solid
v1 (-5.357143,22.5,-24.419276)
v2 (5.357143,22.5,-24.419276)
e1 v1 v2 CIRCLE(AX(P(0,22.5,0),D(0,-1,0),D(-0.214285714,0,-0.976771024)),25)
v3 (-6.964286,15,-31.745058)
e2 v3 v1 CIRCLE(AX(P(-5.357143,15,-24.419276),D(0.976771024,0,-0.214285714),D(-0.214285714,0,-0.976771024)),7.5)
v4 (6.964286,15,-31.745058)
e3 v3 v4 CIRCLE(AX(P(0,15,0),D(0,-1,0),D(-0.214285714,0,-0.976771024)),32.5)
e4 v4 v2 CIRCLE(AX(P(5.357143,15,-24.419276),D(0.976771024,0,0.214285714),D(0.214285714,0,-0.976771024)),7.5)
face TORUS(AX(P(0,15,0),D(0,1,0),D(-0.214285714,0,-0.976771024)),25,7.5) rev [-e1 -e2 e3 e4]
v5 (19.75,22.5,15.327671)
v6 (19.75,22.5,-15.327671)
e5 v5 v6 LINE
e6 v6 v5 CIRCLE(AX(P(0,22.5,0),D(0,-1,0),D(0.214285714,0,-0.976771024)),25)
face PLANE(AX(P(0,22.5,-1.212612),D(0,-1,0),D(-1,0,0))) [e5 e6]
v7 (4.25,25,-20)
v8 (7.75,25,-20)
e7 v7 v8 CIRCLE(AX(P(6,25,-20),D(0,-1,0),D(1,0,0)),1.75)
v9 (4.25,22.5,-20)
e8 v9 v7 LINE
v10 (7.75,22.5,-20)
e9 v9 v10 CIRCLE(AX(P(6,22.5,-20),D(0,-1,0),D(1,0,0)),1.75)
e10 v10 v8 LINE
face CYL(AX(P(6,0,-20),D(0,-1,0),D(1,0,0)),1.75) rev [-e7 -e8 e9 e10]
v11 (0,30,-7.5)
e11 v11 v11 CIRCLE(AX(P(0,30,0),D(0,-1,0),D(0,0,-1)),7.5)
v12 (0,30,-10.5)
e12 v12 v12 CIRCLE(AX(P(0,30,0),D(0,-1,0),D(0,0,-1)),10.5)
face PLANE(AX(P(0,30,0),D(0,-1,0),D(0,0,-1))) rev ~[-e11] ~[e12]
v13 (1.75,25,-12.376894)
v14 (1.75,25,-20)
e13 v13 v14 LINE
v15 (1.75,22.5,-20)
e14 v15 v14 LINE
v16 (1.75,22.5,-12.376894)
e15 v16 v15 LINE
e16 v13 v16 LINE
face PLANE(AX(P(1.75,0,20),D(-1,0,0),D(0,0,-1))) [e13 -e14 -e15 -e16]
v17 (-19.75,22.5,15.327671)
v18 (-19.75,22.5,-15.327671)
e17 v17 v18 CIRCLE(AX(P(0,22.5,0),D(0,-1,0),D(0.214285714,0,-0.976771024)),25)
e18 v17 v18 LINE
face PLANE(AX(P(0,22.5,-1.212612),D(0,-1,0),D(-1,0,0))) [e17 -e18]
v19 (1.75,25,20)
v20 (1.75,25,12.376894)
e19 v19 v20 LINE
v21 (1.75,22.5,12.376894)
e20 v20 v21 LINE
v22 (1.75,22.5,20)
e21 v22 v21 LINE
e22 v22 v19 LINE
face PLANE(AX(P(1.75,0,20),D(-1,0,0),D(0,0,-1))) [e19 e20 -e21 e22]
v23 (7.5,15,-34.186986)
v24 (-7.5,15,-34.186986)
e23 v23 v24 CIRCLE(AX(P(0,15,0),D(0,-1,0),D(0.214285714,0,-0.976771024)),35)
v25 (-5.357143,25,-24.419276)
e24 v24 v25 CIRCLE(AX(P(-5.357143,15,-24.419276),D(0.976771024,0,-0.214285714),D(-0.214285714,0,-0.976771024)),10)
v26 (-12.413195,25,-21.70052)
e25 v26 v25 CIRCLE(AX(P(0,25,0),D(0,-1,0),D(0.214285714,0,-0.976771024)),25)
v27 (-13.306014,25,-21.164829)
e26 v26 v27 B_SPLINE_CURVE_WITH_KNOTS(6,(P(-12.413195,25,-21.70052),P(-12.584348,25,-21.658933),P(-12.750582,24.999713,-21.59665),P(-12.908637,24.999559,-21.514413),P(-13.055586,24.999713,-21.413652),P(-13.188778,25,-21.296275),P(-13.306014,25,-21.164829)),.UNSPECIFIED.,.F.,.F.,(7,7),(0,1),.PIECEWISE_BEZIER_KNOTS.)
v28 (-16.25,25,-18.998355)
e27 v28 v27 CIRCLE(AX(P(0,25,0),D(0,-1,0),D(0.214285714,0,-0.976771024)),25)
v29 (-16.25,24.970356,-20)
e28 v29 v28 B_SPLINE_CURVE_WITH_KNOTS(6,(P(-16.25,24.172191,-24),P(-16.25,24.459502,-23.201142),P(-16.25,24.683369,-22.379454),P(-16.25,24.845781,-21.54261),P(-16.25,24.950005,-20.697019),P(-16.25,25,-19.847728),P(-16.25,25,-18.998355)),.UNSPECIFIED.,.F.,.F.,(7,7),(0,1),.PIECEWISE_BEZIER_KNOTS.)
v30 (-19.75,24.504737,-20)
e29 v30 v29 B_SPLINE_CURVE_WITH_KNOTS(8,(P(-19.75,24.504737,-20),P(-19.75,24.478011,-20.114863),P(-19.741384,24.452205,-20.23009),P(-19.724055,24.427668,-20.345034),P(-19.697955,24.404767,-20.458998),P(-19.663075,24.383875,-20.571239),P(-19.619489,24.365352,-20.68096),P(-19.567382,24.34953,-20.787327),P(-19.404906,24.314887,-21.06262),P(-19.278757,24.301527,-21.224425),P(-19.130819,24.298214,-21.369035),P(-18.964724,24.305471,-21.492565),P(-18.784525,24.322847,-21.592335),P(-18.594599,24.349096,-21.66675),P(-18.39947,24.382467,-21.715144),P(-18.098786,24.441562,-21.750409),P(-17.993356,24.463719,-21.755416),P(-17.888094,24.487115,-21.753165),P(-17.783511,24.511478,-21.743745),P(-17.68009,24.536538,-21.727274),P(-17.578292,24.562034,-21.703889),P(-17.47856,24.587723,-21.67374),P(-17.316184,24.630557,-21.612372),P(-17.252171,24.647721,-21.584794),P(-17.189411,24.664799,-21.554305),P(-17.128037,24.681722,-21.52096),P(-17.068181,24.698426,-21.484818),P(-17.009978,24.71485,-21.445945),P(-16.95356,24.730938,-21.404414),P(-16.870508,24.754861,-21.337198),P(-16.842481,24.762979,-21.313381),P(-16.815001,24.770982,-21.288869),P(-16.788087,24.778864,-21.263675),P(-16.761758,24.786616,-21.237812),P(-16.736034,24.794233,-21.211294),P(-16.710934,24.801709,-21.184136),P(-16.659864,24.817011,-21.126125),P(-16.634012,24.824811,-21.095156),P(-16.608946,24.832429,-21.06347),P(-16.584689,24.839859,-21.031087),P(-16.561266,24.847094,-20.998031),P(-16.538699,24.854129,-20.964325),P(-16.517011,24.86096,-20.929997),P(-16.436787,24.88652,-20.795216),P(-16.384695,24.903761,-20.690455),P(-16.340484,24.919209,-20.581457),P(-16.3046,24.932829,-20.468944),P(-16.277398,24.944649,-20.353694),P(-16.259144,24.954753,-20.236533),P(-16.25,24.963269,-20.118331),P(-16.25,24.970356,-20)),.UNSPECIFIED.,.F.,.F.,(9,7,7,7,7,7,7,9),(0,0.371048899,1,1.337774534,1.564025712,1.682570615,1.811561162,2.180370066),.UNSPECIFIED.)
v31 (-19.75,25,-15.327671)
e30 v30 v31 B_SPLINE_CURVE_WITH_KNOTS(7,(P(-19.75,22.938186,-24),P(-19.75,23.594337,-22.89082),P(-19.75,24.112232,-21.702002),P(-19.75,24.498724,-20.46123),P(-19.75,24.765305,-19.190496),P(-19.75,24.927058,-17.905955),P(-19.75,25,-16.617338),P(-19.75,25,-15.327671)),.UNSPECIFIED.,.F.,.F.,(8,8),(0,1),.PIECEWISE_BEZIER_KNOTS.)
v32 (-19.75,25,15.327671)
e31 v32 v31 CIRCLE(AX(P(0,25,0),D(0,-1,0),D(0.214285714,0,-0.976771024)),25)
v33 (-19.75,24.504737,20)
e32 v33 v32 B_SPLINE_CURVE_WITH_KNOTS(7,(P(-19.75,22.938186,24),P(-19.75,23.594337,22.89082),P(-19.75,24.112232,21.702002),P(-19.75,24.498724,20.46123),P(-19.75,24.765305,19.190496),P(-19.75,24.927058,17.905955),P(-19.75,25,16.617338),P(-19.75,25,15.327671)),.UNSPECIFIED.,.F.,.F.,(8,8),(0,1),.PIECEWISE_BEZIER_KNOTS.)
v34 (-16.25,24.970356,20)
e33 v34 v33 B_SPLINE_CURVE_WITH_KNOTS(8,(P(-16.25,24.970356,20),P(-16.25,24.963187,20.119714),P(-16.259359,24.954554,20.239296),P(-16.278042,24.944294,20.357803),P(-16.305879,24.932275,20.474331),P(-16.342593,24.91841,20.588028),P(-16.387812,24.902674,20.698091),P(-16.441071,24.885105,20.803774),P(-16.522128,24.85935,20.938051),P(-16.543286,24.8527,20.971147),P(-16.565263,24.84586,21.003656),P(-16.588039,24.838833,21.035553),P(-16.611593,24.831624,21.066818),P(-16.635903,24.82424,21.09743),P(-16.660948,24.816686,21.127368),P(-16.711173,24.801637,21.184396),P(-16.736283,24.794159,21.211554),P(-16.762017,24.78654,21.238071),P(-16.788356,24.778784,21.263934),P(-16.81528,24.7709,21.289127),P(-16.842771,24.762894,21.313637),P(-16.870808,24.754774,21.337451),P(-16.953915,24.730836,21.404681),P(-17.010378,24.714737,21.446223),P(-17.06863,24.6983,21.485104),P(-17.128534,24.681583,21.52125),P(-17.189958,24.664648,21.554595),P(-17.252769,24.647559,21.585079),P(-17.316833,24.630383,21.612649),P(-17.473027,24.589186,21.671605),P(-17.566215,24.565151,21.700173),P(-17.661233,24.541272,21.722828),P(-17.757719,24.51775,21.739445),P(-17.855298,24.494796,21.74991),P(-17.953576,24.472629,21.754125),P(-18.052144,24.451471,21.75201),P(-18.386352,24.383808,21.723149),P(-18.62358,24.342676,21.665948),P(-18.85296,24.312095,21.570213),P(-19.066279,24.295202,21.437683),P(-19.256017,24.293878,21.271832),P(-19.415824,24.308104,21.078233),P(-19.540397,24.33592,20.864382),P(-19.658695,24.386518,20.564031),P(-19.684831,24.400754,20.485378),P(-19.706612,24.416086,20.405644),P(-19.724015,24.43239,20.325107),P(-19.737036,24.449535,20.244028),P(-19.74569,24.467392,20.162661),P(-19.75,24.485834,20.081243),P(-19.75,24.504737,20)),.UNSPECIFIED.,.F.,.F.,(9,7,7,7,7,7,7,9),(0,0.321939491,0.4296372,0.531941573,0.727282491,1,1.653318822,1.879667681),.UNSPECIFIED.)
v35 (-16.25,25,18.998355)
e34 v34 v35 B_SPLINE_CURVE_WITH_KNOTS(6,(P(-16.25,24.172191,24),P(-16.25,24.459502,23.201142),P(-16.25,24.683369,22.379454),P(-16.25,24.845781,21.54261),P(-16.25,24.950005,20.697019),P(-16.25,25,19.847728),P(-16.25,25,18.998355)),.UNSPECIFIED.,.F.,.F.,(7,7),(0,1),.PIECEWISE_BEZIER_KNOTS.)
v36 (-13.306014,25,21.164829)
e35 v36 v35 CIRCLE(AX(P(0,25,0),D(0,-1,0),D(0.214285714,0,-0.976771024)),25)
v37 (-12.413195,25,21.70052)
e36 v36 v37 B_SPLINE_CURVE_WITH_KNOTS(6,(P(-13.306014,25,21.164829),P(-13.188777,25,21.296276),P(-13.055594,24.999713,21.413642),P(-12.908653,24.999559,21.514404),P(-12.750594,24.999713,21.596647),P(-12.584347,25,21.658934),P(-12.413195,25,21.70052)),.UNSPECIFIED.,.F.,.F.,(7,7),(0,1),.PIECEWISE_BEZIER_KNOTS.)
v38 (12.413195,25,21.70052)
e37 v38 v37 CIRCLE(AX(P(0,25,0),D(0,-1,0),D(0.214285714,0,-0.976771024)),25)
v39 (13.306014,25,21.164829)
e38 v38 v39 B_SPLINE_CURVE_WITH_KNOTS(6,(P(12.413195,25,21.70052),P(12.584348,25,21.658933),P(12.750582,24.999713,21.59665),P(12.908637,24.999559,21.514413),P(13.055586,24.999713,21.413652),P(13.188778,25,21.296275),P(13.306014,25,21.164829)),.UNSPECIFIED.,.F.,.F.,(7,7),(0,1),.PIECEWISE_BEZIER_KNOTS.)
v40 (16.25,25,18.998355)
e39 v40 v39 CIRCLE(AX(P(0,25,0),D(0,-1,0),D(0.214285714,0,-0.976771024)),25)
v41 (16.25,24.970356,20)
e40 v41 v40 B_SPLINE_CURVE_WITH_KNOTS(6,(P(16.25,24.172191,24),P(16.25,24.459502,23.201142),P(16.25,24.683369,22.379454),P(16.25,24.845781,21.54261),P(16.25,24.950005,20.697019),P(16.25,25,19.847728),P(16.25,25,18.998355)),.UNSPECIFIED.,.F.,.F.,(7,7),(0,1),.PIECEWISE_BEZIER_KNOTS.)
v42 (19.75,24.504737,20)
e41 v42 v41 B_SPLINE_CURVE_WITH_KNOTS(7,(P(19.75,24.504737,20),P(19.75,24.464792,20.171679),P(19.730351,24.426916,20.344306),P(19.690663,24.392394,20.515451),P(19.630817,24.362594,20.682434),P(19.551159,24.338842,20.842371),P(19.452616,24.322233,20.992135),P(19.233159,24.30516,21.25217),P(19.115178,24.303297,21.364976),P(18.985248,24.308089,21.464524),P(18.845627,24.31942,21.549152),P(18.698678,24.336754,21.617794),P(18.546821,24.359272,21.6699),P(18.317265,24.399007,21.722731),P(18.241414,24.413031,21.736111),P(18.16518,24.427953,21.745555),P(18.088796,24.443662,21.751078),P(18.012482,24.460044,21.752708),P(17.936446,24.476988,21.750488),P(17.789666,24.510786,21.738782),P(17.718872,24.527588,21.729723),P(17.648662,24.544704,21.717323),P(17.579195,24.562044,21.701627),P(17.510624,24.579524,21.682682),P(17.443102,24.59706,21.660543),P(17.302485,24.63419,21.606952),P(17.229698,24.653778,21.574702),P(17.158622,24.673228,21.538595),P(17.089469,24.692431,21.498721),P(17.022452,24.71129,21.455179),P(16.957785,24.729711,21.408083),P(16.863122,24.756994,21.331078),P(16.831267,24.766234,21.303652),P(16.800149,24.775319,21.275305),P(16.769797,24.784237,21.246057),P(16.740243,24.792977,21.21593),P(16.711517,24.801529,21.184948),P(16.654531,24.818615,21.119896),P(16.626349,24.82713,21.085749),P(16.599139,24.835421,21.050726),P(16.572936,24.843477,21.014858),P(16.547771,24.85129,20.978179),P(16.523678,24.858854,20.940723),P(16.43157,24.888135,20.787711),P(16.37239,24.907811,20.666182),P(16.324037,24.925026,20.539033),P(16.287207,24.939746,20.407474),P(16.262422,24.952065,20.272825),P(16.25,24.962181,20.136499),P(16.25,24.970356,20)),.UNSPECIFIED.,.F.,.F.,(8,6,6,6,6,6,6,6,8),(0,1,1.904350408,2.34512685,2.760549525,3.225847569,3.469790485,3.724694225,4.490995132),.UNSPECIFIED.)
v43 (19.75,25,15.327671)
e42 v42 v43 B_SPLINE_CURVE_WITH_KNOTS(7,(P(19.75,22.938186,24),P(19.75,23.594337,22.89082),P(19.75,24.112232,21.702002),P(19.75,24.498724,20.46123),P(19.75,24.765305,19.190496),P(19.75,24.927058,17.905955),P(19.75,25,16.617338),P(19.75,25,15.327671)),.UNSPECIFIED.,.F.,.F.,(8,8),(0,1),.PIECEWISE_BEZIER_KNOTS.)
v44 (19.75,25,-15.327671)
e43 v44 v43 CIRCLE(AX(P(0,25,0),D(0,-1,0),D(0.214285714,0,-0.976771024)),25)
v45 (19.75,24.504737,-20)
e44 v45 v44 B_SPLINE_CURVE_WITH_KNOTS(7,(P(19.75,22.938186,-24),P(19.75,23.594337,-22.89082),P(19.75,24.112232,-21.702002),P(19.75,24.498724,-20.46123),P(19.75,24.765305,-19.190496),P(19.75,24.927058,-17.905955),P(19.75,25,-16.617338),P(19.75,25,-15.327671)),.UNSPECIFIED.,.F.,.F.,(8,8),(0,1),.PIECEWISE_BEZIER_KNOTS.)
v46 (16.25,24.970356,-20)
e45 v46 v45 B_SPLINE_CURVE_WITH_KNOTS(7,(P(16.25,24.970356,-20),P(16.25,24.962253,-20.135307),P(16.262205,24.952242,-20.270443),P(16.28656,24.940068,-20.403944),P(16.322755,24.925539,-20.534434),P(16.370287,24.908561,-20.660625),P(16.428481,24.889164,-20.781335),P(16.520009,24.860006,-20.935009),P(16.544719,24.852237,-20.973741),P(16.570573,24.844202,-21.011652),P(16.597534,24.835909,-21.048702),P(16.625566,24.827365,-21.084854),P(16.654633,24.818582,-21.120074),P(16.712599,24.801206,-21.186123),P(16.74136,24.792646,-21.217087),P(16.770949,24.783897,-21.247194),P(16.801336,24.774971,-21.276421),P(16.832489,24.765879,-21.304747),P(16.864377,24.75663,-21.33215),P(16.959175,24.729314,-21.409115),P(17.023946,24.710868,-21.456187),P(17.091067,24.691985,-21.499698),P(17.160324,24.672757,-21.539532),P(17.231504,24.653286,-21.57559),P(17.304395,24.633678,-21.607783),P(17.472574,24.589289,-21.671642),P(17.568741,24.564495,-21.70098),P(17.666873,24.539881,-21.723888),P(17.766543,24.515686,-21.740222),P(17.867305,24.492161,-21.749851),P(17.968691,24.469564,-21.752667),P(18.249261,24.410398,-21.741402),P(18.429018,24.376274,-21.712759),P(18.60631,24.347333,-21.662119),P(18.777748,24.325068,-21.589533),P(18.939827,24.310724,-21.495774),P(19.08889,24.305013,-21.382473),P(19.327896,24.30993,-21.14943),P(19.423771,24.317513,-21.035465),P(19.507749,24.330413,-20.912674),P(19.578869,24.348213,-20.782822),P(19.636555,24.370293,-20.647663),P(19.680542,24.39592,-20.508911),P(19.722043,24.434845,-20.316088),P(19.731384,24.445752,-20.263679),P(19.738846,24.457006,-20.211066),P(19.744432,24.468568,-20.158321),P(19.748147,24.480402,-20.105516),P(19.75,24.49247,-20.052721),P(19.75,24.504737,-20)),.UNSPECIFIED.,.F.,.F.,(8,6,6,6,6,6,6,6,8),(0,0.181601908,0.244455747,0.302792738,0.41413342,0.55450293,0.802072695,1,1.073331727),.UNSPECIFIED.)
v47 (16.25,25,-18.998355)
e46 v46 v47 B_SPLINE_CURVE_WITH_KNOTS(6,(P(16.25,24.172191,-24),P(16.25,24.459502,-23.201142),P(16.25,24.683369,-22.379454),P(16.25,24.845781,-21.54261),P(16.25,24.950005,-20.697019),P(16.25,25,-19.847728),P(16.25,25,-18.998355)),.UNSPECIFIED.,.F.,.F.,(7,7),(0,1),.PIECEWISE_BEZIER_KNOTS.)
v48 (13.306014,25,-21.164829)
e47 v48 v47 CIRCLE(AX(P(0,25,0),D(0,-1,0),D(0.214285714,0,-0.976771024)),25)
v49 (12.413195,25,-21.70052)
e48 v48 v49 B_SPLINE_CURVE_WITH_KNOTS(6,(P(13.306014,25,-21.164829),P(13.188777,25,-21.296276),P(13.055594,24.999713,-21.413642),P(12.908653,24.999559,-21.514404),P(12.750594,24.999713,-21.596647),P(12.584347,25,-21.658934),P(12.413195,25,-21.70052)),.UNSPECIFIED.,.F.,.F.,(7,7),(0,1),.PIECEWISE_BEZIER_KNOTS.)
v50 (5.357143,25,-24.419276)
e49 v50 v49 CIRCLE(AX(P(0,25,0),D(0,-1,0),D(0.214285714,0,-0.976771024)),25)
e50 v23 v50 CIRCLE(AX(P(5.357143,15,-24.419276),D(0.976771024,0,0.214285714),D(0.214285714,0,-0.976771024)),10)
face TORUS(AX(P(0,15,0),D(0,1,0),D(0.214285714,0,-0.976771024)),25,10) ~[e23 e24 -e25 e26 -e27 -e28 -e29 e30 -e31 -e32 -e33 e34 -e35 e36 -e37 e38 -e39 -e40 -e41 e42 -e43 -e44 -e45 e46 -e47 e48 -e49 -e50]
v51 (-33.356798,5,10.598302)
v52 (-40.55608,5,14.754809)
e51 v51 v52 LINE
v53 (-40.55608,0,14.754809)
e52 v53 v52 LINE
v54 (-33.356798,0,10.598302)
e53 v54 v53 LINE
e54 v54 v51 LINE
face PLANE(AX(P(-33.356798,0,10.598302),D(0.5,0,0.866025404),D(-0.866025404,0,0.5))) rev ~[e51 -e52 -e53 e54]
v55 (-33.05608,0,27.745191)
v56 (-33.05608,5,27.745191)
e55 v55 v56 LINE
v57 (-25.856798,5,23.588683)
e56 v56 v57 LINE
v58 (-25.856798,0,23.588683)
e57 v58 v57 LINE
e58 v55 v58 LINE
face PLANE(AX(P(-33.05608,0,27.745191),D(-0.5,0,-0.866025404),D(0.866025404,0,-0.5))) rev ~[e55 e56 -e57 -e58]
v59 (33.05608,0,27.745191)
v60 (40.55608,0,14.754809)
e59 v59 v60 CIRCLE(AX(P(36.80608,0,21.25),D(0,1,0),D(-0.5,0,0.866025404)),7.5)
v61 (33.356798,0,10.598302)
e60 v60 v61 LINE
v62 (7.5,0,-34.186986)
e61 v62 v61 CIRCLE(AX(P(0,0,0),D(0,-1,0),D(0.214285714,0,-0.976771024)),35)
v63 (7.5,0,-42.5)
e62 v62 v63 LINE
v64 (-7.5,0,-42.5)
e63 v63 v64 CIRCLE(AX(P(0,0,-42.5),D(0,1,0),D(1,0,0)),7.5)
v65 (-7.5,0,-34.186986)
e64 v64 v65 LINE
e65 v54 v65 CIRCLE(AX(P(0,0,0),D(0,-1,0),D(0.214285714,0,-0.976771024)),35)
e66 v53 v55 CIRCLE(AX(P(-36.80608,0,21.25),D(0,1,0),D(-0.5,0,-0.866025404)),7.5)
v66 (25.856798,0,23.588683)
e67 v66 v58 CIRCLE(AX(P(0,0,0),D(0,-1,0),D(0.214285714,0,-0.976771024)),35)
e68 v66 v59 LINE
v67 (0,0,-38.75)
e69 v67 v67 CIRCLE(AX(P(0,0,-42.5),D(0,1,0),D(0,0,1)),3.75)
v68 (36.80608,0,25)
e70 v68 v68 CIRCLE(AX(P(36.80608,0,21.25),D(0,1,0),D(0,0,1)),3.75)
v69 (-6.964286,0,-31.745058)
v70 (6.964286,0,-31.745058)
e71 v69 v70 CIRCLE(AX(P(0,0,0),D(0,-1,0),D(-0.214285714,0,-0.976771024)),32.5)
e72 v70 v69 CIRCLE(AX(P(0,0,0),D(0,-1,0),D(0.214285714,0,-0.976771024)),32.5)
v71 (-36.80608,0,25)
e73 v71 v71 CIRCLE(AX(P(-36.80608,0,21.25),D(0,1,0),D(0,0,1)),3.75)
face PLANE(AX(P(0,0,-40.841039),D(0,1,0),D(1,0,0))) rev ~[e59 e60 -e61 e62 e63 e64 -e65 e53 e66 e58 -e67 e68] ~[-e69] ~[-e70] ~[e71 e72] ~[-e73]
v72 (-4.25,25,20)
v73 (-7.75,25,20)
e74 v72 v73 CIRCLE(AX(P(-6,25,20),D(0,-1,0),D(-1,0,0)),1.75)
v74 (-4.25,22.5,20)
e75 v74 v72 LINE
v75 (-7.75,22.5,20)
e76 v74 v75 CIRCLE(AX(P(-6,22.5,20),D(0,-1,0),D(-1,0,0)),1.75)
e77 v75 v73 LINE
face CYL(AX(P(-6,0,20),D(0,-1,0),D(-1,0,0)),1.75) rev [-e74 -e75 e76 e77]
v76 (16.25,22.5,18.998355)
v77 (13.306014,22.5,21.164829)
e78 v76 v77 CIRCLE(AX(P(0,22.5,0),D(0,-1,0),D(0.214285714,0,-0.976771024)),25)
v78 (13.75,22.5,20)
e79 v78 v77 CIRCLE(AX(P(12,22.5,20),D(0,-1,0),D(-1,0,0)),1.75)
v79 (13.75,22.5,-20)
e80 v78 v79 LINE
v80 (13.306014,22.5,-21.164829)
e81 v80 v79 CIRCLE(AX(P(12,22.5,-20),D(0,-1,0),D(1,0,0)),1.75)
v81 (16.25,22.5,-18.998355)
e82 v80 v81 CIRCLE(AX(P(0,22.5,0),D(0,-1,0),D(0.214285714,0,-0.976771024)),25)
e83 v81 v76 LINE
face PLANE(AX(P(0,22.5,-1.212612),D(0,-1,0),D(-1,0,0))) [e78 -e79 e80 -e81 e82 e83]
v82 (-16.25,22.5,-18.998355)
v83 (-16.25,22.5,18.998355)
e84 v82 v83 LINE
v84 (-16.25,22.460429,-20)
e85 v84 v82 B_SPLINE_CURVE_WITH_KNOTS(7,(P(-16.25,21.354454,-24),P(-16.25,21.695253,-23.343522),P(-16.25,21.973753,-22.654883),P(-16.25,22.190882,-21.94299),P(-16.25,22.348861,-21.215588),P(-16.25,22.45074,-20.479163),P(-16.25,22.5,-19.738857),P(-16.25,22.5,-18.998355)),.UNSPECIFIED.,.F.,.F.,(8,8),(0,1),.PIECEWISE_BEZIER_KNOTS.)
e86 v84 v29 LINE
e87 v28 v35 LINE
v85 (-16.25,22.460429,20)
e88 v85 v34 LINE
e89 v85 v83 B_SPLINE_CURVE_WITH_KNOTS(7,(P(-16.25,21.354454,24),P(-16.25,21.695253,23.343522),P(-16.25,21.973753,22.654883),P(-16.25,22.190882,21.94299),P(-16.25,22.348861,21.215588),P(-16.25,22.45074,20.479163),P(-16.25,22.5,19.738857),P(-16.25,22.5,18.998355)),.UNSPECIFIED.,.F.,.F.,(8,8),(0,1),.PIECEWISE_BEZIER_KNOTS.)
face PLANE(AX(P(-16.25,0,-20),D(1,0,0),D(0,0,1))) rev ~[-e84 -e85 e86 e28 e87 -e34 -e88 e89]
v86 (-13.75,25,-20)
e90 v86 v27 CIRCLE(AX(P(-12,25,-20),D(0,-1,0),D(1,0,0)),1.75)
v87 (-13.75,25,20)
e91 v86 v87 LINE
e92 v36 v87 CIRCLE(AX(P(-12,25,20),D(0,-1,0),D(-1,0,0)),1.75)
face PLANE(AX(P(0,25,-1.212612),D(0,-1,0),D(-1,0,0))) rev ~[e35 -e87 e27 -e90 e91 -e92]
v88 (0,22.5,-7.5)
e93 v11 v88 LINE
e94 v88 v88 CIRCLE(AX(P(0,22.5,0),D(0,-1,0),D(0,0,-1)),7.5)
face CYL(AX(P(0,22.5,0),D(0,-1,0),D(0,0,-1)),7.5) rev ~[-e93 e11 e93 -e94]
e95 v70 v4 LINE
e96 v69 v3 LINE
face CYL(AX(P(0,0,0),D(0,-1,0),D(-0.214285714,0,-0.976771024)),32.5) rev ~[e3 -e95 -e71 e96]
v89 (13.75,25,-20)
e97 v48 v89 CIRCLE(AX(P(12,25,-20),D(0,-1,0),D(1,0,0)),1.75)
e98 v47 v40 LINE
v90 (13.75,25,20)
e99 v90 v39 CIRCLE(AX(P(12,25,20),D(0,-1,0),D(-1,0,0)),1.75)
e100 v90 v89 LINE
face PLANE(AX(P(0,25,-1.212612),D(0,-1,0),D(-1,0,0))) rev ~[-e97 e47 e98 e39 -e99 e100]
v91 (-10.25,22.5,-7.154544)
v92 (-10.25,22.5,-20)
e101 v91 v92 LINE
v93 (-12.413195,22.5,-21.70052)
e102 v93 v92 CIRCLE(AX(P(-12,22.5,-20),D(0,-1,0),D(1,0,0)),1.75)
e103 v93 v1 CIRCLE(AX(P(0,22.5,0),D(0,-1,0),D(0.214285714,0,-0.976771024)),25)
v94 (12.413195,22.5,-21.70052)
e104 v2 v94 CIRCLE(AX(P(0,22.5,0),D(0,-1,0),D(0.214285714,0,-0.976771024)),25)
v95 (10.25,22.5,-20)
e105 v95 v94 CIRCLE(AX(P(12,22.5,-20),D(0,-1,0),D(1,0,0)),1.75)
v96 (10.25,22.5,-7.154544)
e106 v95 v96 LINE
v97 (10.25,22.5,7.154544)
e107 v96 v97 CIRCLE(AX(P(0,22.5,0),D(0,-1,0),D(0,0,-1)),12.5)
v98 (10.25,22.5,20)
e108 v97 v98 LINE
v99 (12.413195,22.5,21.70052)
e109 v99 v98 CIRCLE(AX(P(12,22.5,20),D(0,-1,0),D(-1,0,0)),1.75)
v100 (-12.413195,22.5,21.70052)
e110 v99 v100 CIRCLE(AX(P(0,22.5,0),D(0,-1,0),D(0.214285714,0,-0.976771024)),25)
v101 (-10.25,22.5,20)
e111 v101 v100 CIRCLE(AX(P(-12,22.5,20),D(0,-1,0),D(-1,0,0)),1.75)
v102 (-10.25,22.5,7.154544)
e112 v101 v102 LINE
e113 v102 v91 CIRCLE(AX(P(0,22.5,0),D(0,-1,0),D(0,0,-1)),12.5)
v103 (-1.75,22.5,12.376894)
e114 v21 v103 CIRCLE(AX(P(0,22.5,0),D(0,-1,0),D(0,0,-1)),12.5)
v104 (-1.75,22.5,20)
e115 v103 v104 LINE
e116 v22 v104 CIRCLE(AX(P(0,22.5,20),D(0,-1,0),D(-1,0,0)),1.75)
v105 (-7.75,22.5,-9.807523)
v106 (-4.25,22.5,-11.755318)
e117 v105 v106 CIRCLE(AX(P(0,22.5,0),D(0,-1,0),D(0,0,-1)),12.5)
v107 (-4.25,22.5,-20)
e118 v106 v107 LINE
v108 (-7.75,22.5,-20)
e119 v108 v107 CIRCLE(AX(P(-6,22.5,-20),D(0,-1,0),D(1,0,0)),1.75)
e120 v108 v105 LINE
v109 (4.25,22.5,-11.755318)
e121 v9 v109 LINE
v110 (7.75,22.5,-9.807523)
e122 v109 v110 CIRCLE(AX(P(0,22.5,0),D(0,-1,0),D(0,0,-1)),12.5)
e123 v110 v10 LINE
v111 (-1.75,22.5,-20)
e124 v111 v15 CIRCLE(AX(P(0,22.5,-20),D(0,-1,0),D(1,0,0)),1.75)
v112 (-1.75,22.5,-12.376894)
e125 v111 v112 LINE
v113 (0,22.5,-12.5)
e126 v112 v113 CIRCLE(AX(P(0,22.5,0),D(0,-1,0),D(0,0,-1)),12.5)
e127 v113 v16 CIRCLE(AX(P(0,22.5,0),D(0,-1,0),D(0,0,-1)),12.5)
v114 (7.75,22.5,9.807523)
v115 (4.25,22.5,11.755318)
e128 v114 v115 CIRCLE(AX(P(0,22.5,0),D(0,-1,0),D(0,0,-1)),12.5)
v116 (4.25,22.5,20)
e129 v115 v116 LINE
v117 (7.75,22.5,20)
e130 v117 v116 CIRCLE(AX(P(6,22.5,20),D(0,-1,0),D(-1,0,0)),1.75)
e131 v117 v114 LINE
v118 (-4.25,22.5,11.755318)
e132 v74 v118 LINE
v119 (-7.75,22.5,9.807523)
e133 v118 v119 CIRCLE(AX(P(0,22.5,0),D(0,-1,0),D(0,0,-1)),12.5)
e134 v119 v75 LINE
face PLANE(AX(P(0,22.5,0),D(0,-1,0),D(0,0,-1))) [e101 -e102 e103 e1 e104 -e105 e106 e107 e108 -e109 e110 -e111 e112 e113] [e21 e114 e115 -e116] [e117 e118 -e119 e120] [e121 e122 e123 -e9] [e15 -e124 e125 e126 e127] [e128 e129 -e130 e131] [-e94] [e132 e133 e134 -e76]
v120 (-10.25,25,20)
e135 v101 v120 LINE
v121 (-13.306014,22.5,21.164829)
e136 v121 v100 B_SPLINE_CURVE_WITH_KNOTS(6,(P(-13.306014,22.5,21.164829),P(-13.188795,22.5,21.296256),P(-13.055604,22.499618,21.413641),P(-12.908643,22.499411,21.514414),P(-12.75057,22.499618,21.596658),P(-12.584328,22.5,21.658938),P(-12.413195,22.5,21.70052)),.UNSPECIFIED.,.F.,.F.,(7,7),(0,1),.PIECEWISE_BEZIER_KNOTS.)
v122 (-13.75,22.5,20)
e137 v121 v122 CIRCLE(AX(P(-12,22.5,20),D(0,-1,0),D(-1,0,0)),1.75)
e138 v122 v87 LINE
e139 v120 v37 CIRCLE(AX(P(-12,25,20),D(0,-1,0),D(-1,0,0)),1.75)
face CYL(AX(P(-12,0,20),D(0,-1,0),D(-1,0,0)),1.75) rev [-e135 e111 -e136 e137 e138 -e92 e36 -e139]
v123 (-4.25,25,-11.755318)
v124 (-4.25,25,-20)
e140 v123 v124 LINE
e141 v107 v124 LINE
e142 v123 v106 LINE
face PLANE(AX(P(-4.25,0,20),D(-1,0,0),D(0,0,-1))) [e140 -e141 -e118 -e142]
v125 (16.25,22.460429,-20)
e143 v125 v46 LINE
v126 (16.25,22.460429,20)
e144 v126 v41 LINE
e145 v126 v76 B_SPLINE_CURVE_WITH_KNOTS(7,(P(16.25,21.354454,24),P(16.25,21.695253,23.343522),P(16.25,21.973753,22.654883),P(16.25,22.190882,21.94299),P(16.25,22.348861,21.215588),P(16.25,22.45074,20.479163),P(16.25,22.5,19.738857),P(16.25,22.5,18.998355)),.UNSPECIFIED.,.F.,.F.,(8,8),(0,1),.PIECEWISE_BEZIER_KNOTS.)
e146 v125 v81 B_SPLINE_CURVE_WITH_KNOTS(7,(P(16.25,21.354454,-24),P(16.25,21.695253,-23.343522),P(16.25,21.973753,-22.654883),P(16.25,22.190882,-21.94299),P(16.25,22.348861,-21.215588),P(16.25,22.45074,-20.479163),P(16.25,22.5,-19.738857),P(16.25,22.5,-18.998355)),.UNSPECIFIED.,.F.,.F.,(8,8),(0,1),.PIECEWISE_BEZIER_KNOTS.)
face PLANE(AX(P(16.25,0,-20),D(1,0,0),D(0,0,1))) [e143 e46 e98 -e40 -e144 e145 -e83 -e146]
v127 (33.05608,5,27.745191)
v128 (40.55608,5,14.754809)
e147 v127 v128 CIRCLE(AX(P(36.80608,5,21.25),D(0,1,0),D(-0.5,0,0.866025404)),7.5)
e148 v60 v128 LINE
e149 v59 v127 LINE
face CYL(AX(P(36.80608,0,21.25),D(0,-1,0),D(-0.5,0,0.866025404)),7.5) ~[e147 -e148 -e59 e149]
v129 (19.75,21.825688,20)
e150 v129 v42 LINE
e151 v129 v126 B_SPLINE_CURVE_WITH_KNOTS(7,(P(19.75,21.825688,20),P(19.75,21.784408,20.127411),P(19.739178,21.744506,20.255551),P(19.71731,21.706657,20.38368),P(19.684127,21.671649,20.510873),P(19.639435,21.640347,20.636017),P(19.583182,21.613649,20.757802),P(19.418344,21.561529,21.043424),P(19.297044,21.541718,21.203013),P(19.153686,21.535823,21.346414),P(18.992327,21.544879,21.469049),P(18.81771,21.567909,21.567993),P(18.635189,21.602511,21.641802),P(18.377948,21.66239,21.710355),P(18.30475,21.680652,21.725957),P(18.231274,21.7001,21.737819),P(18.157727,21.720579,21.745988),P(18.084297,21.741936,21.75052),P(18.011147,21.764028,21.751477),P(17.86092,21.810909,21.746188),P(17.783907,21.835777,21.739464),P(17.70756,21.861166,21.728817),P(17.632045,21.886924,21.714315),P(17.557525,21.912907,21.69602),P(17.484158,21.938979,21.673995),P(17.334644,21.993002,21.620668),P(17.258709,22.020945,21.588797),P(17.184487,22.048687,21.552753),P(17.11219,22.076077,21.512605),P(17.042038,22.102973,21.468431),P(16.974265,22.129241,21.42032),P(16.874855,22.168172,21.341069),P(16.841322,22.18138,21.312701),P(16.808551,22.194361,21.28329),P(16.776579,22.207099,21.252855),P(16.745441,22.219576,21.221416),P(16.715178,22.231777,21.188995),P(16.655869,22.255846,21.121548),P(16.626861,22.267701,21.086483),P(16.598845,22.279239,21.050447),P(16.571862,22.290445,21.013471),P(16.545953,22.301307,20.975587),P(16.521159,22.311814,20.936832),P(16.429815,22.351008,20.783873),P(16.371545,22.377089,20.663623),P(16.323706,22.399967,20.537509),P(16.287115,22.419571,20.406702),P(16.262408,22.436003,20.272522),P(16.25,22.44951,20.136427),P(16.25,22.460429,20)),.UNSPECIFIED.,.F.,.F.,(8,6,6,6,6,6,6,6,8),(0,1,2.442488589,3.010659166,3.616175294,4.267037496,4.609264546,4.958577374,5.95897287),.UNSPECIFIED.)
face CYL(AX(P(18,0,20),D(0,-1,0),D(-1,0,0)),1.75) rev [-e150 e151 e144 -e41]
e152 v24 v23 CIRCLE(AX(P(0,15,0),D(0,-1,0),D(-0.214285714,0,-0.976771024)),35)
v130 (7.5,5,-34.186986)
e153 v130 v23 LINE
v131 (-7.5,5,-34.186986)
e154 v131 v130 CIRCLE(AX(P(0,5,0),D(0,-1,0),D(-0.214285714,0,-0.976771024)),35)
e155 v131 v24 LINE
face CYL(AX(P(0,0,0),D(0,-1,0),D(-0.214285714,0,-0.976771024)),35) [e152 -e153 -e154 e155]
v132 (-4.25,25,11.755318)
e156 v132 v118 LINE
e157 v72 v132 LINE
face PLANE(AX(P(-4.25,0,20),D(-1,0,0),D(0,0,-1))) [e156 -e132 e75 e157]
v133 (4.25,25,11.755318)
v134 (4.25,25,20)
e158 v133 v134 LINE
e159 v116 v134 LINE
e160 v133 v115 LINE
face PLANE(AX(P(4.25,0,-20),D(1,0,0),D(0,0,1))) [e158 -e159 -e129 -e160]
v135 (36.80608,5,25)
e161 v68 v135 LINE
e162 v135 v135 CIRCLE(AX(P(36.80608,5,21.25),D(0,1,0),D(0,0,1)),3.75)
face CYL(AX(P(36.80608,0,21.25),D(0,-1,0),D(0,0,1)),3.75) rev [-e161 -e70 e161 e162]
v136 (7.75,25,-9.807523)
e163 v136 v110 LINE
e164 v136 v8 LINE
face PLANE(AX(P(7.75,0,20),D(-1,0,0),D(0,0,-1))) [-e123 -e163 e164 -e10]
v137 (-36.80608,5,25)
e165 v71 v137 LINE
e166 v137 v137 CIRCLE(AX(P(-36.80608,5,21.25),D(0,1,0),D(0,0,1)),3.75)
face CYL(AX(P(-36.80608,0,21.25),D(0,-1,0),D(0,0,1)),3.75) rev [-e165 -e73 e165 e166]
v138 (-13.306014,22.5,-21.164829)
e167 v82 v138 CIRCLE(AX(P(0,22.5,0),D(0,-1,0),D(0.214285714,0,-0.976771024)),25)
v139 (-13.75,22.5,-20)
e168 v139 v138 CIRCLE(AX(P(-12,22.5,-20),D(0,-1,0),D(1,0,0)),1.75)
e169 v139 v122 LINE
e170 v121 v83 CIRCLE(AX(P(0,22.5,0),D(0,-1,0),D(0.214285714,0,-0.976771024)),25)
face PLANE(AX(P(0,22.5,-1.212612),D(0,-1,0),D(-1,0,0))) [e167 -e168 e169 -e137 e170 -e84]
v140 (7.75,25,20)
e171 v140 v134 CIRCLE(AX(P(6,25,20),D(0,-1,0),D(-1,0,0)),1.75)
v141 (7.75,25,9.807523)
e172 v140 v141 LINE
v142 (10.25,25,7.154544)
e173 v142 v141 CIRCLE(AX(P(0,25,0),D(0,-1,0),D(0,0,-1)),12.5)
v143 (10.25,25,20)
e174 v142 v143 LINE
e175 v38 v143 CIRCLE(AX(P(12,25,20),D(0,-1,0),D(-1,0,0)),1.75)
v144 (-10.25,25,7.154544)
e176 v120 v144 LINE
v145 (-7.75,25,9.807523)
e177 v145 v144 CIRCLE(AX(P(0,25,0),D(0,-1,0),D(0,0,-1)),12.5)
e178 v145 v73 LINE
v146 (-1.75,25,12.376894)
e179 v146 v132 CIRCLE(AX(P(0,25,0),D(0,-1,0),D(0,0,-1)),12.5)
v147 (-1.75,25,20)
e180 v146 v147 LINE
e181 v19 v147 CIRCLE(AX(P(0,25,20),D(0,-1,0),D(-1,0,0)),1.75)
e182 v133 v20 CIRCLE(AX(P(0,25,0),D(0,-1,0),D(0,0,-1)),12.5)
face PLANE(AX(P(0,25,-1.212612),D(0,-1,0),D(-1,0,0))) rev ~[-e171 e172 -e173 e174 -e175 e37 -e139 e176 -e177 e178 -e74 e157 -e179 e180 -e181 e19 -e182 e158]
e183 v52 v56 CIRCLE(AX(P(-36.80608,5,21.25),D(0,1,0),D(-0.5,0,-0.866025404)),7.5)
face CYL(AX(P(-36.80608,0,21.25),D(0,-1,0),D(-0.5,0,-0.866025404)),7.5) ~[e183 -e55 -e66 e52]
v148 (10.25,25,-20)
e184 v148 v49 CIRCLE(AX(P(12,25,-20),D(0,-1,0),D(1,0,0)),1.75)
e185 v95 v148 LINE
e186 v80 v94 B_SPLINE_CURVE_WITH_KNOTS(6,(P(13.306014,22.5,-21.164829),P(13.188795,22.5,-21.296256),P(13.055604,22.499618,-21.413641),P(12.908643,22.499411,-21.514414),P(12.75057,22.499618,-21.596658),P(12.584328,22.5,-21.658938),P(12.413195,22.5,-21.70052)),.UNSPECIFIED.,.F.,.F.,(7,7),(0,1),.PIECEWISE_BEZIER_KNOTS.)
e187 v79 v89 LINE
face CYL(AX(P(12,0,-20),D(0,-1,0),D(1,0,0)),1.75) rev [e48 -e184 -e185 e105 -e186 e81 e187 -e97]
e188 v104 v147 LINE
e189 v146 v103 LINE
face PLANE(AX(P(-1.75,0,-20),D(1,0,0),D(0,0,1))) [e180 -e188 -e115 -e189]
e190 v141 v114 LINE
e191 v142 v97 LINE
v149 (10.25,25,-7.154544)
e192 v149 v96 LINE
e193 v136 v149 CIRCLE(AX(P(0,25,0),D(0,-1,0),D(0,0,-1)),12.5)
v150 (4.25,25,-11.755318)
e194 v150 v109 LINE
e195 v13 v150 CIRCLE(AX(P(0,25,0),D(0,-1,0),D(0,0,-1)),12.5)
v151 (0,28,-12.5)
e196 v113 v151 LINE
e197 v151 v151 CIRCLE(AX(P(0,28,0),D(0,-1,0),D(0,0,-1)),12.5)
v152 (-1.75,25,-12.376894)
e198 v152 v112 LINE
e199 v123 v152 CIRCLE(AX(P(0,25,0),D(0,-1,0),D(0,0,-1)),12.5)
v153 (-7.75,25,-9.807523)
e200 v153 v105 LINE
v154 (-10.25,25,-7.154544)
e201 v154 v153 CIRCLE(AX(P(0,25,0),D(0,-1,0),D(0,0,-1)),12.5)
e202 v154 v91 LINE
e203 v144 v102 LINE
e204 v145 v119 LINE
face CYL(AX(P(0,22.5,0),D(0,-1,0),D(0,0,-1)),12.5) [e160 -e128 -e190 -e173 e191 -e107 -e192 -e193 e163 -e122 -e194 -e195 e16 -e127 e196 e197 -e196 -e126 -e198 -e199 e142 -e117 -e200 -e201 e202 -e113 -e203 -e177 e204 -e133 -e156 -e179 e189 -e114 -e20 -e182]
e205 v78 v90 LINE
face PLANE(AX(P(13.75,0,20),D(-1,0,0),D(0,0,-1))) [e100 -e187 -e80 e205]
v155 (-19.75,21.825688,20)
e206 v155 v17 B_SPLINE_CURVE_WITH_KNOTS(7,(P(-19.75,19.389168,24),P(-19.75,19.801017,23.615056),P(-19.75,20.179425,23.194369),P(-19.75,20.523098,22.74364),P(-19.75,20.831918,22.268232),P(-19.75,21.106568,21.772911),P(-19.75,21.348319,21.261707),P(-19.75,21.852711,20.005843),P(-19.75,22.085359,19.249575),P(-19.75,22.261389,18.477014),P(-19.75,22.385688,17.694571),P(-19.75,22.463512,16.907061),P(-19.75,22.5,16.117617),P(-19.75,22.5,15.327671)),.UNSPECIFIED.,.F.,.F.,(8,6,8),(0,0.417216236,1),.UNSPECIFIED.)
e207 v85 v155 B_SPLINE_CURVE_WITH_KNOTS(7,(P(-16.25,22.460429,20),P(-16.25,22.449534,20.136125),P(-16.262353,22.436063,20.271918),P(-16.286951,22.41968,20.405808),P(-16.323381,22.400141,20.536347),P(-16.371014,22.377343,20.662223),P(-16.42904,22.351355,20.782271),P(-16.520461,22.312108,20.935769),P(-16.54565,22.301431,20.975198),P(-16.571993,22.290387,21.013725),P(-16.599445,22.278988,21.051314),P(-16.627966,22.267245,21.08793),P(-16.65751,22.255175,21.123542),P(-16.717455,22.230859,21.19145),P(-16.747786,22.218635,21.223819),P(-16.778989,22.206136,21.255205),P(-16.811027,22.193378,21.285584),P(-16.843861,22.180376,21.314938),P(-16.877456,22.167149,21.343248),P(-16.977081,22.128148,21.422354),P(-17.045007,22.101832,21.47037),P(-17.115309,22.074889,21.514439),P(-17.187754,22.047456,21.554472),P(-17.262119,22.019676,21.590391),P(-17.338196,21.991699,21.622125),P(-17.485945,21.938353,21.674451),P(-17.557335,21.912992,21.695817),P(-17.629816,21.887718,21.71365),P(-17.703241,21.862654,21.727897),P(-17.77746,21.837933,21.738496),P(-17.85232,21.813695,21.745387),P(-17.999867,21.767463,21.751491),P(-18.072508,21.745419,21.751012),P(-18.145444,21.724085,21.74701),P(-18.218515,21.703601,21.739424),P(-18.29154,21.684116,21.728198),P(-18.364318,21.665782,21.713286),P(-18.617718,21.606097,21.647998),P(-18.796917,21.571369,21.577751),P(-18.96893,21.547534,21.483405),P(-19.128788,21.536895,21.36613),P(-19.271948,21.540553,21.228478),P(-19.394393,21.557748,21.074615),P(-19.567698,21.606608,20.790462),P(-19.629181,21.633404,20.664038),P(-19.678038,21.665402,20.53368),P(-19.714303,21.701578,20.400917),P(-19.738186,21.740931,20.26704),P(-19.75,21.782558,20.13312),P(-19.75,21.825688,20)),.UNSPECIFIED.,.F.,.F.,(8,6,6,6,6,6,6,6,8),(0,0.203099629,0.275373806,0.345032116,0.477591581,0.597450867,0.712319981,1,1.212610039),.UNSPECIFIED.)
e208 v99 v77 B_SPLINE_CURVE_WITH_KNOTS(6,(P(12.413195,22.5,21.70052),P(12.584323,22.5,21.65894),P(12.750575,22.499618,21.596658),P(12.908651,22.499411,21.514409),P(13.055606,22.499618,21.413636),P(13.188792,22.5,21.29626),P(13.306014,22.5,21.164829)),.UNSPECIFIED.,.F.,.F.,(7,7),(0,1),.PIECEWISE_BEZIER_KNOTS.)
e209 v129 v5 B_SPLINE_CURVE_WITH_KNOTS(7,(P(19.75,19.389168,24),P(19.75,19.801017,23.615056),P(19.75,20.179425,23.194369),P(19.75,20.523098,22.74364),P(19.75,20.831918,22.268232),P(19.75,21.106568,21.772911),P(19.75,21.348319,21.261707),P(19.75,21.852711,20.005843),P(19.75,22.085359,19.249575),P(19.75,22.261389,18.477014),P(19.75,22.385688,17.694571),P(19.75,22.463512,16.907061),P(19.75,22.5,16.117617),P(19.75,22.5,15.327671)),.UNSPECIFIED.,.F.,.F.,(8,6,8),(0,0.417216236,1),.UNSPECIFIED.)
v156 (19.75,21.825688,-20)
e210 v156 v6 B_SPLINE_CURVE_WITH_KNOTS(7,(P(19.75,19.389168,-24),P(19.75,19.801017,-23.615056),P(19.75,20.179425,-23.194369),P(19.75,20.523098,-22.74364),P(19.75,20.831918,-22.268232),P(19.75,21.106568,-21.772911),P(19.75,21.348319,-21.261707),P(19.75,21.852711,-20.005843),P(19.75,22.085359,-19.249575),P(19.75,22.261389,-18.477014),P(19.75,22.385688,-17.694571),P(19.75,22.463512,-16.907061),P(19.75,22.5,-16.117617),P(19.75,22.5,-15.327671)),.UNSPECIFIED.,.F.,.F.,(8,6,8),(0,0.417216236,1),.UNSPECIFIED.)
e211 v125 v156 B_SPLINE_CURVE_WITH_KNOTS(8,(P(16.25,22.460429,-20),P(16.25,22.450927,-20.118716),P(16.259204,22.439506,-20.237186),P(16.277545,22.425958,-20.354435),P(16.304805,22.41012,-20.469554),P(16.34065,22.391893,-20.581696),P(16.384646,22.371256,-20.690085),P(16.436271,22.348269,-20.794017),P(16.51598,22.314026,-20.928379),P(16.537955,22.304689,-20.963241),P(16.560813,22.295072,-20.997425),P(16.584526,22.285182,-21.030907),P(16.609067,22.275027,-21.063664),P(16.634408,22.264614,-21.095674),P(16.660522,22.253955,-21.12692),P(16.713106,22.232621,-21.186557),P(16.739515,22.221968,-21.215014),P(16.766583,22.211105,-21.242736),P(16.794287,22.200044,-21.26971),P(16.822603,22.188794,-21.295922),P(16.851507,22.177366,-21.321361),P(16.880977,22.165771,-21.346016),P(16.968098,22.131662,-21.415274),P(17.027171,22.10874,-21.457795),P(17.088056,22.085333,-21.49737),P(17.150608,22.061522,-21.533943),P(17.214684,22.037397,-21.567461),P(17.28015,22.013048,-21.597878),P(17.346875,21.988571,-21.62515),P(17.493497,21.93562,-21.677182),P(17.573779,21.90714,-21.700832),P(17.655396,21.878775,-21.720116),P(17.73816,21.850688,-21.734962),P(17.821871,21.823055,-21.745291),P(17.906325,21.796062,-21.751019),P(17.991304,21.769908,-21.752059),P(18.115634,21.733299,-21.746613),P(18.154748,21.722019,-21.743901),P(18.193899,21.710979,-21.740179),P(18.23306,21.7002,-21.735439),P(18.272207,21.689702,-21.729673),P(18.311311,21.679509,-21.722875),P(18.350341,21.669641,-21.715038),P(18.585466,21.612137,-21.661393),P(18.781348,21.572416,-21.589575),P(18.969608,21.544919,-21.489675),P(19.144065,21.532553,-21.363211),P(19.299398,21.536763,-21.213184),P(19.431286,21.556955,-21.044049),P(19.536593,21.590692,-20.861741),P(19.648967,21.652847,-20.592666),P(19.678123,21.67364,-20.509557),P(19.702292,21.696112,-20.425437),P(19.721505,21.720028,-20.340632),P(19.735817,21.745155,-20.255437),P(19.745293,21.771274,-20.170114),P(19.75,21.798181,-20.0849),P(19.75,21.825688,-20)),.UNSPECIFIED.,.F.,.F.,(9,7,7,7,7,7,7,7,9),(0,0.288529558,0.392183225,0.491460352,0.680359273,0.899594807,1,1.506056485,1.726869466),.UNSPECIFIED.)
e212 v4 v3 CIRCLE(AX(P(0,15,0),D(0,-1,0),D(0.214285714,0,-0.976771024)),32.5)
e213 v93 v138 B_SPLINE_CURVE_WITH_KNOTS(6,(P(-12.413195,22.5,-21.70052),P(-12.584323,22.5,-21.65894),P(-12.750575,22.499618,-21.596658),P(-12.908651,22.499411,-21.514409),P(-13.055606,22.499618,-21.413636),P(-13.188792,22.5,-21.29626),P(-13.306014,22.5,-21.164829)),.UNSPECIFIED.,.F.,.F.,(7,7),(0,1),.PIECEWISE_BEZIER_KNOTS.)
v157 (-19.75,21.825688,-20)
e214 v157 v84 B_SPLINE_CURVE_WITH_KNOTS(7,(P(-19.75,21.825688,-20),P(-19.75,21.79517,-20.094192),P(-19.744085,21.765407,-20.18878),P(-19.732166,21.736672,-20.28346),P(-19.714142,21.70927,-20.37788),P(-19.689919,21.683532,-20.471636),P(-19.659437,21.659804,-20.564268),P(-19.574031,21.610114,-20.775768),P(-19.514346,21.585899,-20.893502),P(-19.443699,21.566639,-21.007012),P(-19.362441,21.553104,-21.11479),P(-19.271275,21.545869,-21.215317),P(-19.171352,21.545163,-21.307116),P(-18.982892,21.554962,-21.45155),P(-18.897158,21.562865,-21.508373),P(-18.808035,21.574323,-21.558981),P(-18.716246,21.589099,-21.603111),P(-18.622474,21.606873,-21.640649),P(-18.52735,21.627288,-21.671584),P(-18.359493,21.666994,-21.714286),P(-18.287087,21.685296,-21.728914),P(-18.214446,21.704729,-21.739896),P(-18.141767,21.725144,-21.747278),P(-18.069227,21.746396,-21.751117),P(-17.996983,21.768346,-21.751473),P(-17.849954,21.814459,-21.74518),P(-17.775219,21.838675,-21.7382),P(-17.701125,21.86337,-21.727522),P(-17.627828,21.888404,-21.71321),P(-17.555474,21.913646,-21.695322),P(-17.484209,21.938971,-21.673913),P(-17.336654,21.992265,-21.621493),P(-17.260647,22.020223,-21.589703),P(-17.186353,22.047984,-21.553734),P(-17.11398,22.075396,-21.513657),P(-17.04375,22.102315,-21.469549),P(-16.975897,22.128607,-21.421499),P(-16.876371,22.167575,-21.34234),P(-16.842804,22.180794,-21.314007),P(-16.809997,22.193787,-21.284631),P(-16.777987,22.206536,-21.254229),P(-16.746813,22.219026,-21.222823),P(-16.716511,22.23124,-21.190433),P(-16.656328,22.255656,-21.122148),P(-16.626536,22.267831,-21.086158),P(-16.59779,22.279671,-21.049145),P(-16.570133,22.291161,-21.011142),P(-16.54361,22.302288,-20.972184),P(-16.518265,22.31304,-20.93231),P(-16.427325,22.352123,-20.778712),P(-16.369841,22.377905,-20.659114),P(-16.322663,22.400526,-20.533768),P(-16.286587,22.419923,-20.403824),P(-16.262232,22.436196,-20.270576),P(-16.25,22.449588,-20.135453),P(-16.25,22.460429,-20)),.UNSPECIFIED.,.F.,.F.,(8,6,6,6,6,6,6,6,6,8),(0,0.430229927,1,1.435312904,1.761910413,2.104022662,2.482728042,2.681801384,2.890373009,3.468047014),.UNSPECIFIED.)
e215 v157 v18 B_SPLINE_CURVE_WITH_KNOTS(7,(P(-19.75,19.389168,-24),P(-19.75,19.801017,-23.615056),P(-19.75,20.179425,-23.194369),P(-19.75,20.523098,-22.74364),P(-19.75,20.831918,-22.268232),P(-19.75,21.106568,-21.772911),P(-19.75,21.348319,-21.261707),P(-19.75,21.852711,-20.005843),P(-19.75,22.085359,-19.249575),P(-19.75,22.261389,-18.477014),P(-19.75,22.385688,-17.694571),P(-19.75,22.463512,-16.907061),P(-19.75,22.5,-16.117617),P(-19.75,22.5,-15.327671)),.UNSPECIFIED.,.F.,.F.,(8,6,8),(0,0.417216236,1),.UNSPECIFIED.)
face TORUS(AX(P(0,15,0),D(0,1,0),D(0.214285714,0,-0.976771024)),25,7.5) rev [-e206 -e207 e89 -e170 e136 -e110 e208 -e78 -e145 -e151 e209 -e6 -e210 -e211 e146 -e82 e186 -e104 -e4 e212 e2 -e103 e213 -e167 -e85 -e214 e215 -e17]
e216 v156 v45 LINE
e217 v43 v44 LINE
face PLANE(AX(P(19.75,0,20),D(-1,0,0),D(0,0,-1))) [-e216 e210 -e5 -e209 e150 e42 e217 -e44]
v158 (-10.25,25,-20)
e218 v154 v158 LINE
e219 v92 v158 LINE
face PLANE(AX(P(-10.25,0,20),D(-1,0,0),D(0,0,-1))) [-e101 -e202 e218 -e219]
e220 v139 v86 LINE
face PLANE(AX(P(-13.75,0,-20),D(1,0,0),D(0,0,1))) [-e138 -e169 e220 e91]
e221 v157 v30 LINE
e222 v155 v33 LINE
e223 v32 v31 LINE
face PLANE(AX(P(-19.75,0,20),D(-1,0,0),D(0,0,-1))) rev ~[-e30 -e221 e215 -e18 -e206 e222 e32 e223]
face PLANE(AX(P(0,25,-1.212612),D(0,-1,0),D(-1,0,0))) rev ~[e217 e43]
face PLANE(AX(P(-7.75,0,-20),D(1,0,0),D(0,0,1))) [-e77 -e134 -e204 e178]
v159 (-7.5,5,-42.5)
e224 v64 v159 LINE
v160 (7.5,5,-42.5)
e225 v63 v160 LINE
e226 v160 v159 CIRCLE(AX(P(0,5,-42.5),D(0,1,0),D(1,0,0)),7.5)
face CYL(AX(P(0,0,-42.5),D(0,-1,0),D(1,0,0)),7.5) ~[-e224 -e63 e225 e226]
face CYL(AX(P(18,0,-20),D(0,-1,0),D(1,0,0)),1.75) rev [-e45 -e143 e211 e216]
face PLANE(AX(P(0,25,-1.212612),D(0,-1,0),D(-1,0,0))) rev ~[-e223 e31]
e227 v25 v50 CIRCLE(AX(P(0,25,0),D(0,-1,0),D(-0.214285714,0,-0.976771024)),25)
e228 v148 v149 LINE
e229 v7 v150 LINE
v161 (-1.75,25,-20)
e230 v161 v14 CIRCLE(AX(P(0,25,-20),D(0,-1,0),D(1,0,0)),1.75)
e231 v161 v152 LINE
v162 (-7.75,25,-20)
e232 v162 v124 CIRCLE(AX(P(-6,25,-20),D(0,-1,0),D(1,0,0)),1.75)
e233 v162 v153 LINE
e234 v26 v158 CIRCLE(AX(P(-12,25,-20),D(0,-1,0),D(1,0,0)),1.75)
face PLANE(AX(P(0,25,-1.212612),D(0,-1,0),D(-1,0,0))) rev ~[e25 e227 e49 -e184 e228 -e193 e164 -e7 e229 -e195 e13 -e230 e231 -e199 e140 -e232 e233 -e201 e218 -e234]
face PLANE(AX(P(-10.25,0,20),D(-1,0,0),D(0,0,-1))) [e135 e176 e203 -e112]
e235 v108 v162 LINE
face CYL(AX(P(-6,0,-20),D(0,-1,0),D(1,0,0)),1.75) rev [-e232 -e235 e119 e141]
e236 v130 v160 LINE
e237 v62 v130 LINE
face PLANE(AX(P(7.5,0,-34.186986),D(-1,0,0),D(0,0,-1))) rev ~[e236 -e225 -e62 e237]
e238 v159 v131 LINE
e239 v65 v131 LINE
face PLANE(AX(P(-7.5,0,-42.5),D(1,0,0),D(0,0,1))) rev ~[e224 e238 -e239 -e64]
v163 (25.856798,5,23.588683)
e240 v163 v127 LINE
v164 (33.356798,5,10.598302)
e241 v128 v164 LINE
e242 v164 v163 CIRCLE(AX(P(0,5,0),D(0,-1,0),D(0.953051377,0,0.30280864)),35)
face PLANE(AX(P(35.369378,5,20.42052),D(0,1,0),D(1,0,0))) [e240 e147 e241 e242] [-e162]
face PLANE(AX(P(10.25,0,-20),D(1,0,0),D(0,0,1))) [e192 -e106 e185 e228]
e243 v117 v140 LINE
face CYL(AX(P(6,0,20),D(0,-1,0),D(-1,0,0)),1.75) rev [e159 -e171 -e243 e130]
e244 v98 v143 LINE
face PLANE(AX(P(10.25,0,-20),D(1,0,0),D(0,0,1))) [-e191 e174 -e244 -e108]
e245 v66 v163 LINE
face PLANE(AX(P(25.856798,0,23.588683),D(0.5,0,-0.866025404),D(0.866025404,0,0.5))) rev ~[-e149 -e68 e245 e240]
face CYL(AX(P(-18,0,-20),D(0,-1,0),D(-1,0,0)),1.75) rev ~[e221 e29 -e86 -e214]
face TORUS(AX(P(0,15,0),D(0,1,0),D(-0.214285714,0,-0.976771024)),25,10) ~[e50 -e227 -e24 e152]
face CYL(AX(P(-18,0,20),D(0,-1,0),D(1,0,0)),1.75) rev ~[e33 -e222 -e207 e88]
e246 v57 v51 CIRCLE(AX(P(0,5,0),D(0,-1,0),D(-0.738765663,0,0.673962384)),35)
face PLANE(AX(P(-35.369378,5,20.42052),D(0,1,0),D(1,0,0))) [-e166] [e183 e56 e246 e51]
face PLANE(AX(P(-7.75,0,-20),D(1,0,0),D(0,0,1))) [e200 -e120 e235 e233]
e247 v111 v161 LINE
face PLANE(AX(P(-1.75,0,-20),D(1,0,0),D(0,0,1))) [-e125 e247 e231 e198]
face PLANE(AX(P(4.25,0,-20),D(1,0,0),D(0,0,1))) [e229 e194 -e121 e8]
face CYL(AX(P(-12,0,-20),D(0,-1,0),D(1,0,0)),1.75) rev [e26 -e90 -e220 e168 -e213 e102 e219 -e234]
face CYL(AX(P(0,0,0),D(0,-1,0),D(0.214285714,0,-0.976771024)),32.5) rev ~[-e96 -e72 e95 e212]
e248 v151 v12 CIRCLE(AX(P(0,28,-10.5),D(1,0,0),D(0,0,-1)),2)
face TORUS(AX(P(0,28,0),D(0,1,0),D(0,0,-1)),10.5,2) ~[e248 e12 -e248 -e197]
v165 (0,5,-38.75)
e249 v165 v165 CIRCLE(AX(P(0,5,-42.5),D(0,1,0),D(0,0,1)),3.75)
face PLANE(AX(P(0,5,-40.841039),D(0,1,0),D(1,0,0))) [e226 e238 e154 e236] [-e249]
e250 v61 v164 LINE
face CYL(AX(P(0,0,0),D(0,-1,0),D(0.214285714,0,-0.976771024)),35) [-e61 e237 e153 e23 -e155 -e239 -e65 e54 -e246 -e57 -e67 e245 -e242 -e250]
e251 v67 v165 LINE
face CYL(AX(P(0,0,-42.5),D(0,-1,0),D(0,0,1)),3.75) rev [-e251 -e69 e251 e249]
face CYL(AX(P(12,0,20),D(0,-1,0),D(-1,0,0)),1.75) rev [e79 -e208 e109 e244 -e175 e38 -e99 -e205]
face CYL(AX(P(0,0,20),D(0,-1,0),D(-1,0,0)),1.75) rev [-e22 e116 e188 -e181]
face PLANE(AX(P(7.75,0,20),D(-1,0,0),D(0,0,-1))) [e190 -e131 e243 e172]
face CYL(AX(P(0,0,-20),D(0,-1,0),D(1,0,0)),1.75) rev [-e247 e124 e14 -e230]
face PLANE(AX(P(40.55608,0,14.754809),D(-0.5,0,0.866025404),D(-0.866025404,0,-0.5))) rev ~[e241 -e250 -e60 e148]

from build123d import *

# Parameters (mm, degrees)
BOSS_EXTRUDE1_DEPTH = 25
FILLET1_R           = 10
SHELL1_T            = -2.5
SKETCH1_3_R         = 3.75
BOSS_EXTRUDE2_DEPTH = 5
CUT_EXTRUDE1_DEPTH  = 35
SKETCH4_R           = 12.5
SKETCH4_R_2         = 7.5
BOSS_EXTRUDE3_DEPTH = 7.5
SKETCH4_3_R         = 7.5
CUT_EXTRUDE2_DEPTH  = 18.75
FILLET2_R           = 2


with BuildPart() as part:
    # Sketch1 → Boss-Extrude1 (new body)
    with BuildSketch(Plane(origin=(0, 0, 0), x_dir=(1, 0, 0), z_dir=(0, 1, 0))):
        with BuildLine():
            ThreePointArc((-7.5, 34.186985828), (0, 35), (7.5, 34.186985828))
            ThreePointArc((7.5, 34.186985828), (0, -35), (-7.5, 34.186985828))
        make_face()
    extrude(amount=BOSS_EXTRUDE1_DEPTH)

    # Fillet1
    fillet1_edges = [part.edges().sort_by_distance(p)[0] for p in [
        (7.5, 25, 34.186985828),
    ]]
    fillet(fillet1_edges, radius=FILLET1_R)

    # Shell1
    shell1_openings = [part.faces().sort_by_distance(p)[0] for p in [
        (0, 0, 0),
    ]]
    offset(amount=SHELL1_T, openings=shell1_openings, kind=Kind.INTERSECTION)

    # Sketch1_3 → Boss-Extrude2 (add)
    # profile 1 of 3: a face of its own
    with BuildSketch(Plane(origin=(0, 0, 0), x_dir=(1, 0, 0), z_dir=(0, 1, 0))):
        with BuildLine():
            Line((40.556079661, -14.754809472), (33.356798206, -10.598302386))
            ThreePointArc((33.356798206, -10.598302386), (30.310889132, -17.5), (25.856798206, -23.588683442))
            Line((25.856798206, -23.588683442), (33.056079661, -27.745190528))
            ThreePointArc((33.056079661, -27.745190528), (43.301270189, -25), (40.556079661, -14.754809472))
        make_face()
        with Locations(Location((36.806079661, -21.25, 0), (0, 0, 270))):
            Circle(SKETCH1_3_R, mode=Mode.SUBTRACT)
    # profile 2 of 3: a face of its own
    with BuildSketch(Plane(origin=(0, 0, 0), x_dir=(1, 0, 0), z_dir=(0, 1, 0))):
        with BuildLine():
            ThreePointArc((-25.856798206, -23.588683442), (-30.310889132, -17.5), (-33.356798206, -10.598302386))
            Line((-33.356798206, -10.598302386), (-40.556079661, -14.754809472))
            ThreePointArc((-40.556079661, -14.754809472), (-43.301270189, -25), (-33.056079661, -27.745190528))
            Line((-33.056079661, -27.745190528), (-25.856798206, -23.588683442))
        make_face()
        with Locations(Location((-36.806079661, -21.25, 0), (0, 0, 270))):
            Circle(SKETCH1_3_R, mode=Mode.SUBTRACT)
    # profile 3 of 3: a face of its own
    with BuildSketch(Plane(origin=(0, 0, 0), x_dir=(1, 0, 0), z_dir=(0, 1, 0))):
        with BuildLine():
            Line((-7.5, 42.5), (-7.5, 34.186985828))
            ThreePointArc((-7.5, 34.186985828), (0, 35), (7.5, 34.186985828))
            Line((7.5, 34.186985828), (7.5, 42.5))
            ThreePointArc((7.5, 42.5), (0, 50), (-7.5, 42.5))
        make_face()
        with Locations(Location((0, 42.5, 0), (0, 0, 270))):
            Circle(SKETCH1_3_R, mode=Mode.SUBTRACT)
    extrude(amount=BOSS_EXTRUDE2_DEPTH)

    # Sketch2 → Cut-Extrude1 (cut)
    with BuildSketch(Plane.XZ):
        with BuildLine():
            Line((-10.25, 20), (-10.25, -20))
            ThreePointArc((-10.25, -20), (-12, -21.75), (-13.75, -20))
            Line((-13.75, -20), (-13.75, 20))
            ThreePointArc((-13.75, 20), (-12, 21.75), (-10.25, 20))
        make_face()
        with BuildLine():
            Line((-19.75, 20), (-19.75, -20))
            ThreePointArc((-19.75, -20), (-18, -21.75), (-16.25, -20))
            Line((-16.25, -20), (-16.25, 20))
            ThreePointArc((-16.25, 20), (-18, 21.75), (-19.75, 20))
        make_face()
        with BuildLine():
            Line((-4.25, 20), (-4.25, -20))
            ThreePointArc((-4.25, -20), (-6, -21.75), (-7.75, -20))
            Line((-7.75, -20), (-7.75, 20))
            ThreePointArc((-7.75, 20), (-6, 21.75), (-4.25, 20))
        make_face()
        with BuildLine():
            Line((1.75, 20), (1.75, -20))
            ThreePointArc((1.75, -20), (0, -21.75), (-1.75, -20))
            Line((-1.75, -20), (-1.75, 20))
            ThreePointArc((-1.75, 20), (0, 21.75), (1.75, 20))
        make_face()
        with BuildLine():
            Line((7.75, 20), (7.75, -20))
            ThreePointArc((7.75, -20), (6, -21.75), (4.25, -20))
            Line((4.25, -20), (4.25, 20))
            ThreePointArc((4.25, 20), (6, 21.75), (7.75, 20))
        make_face()
        with BuildLine():
            Line((13.75, 20), (13.75, -20))
            ThreePointArc((13.75, -20), (12, -21.75), (10.25, -20))
            Line((10.25, -20), (10.25, 20))
            ThreePointArc((10.25, 20), (12, 21.75), (13.75, 20))
        make_face()
        with BuildLine():
            Line((19.75, 20), (19.75, -20))
            ThreePointArc((19.75, -20), (18, -21.75), (16.25, -20))
            Line((16.25, -20), (16.25, 20))
            ThreePointArc((16.25, 20), (18, 21.75), (19.75, 20))
        make_face()
    extrude(amount=-CUT_EXTRUDE1_DEPTH, mode=Mode.SUBTRACT)

    # Sketch4 → Boss-Extrude3 (add)
    # profile 1 of 2: a face of its own
    with BuildSketch(Plane.XZ.offset(-22.5)):
        with Locations(Location((0, 0, 0), (0, 0, 270))):
            Circle(SKETCH4_R)
        Circle(SKETCH4_R_2, mode=Mode.SUBTRACT)
    # profile 2 of 2: a face of its own
    with BuildSketch(Plane.XZ.offset(-22.5)):
        Circle(SKETCH4_R_2)
    extrude(amount=-BOSS_EXTRUDE3_DEPTH)

    # Sketch4_3 → Cut-Extrude2 (cut, symmetric)
    with BuildSketch(Plane.XZ.offset(-22.5)):
        with Locations(Location((0, 0, 0), (0, 0, 270))):
            Circle(SKETCH4_3_R)
    extrude(amount=CUT_EXTRUDE2_DEPTH, both=True, mode=Mode.SUBTRACT)

    # Fillet2
    fillet2_edges = [part.edges().sort_by_distance(p)[0] for p in [
        (0, 30, 12.5),
    ]]
    fillet(fillet2_edges, radius=FILLET2_R)


solid = part.part
